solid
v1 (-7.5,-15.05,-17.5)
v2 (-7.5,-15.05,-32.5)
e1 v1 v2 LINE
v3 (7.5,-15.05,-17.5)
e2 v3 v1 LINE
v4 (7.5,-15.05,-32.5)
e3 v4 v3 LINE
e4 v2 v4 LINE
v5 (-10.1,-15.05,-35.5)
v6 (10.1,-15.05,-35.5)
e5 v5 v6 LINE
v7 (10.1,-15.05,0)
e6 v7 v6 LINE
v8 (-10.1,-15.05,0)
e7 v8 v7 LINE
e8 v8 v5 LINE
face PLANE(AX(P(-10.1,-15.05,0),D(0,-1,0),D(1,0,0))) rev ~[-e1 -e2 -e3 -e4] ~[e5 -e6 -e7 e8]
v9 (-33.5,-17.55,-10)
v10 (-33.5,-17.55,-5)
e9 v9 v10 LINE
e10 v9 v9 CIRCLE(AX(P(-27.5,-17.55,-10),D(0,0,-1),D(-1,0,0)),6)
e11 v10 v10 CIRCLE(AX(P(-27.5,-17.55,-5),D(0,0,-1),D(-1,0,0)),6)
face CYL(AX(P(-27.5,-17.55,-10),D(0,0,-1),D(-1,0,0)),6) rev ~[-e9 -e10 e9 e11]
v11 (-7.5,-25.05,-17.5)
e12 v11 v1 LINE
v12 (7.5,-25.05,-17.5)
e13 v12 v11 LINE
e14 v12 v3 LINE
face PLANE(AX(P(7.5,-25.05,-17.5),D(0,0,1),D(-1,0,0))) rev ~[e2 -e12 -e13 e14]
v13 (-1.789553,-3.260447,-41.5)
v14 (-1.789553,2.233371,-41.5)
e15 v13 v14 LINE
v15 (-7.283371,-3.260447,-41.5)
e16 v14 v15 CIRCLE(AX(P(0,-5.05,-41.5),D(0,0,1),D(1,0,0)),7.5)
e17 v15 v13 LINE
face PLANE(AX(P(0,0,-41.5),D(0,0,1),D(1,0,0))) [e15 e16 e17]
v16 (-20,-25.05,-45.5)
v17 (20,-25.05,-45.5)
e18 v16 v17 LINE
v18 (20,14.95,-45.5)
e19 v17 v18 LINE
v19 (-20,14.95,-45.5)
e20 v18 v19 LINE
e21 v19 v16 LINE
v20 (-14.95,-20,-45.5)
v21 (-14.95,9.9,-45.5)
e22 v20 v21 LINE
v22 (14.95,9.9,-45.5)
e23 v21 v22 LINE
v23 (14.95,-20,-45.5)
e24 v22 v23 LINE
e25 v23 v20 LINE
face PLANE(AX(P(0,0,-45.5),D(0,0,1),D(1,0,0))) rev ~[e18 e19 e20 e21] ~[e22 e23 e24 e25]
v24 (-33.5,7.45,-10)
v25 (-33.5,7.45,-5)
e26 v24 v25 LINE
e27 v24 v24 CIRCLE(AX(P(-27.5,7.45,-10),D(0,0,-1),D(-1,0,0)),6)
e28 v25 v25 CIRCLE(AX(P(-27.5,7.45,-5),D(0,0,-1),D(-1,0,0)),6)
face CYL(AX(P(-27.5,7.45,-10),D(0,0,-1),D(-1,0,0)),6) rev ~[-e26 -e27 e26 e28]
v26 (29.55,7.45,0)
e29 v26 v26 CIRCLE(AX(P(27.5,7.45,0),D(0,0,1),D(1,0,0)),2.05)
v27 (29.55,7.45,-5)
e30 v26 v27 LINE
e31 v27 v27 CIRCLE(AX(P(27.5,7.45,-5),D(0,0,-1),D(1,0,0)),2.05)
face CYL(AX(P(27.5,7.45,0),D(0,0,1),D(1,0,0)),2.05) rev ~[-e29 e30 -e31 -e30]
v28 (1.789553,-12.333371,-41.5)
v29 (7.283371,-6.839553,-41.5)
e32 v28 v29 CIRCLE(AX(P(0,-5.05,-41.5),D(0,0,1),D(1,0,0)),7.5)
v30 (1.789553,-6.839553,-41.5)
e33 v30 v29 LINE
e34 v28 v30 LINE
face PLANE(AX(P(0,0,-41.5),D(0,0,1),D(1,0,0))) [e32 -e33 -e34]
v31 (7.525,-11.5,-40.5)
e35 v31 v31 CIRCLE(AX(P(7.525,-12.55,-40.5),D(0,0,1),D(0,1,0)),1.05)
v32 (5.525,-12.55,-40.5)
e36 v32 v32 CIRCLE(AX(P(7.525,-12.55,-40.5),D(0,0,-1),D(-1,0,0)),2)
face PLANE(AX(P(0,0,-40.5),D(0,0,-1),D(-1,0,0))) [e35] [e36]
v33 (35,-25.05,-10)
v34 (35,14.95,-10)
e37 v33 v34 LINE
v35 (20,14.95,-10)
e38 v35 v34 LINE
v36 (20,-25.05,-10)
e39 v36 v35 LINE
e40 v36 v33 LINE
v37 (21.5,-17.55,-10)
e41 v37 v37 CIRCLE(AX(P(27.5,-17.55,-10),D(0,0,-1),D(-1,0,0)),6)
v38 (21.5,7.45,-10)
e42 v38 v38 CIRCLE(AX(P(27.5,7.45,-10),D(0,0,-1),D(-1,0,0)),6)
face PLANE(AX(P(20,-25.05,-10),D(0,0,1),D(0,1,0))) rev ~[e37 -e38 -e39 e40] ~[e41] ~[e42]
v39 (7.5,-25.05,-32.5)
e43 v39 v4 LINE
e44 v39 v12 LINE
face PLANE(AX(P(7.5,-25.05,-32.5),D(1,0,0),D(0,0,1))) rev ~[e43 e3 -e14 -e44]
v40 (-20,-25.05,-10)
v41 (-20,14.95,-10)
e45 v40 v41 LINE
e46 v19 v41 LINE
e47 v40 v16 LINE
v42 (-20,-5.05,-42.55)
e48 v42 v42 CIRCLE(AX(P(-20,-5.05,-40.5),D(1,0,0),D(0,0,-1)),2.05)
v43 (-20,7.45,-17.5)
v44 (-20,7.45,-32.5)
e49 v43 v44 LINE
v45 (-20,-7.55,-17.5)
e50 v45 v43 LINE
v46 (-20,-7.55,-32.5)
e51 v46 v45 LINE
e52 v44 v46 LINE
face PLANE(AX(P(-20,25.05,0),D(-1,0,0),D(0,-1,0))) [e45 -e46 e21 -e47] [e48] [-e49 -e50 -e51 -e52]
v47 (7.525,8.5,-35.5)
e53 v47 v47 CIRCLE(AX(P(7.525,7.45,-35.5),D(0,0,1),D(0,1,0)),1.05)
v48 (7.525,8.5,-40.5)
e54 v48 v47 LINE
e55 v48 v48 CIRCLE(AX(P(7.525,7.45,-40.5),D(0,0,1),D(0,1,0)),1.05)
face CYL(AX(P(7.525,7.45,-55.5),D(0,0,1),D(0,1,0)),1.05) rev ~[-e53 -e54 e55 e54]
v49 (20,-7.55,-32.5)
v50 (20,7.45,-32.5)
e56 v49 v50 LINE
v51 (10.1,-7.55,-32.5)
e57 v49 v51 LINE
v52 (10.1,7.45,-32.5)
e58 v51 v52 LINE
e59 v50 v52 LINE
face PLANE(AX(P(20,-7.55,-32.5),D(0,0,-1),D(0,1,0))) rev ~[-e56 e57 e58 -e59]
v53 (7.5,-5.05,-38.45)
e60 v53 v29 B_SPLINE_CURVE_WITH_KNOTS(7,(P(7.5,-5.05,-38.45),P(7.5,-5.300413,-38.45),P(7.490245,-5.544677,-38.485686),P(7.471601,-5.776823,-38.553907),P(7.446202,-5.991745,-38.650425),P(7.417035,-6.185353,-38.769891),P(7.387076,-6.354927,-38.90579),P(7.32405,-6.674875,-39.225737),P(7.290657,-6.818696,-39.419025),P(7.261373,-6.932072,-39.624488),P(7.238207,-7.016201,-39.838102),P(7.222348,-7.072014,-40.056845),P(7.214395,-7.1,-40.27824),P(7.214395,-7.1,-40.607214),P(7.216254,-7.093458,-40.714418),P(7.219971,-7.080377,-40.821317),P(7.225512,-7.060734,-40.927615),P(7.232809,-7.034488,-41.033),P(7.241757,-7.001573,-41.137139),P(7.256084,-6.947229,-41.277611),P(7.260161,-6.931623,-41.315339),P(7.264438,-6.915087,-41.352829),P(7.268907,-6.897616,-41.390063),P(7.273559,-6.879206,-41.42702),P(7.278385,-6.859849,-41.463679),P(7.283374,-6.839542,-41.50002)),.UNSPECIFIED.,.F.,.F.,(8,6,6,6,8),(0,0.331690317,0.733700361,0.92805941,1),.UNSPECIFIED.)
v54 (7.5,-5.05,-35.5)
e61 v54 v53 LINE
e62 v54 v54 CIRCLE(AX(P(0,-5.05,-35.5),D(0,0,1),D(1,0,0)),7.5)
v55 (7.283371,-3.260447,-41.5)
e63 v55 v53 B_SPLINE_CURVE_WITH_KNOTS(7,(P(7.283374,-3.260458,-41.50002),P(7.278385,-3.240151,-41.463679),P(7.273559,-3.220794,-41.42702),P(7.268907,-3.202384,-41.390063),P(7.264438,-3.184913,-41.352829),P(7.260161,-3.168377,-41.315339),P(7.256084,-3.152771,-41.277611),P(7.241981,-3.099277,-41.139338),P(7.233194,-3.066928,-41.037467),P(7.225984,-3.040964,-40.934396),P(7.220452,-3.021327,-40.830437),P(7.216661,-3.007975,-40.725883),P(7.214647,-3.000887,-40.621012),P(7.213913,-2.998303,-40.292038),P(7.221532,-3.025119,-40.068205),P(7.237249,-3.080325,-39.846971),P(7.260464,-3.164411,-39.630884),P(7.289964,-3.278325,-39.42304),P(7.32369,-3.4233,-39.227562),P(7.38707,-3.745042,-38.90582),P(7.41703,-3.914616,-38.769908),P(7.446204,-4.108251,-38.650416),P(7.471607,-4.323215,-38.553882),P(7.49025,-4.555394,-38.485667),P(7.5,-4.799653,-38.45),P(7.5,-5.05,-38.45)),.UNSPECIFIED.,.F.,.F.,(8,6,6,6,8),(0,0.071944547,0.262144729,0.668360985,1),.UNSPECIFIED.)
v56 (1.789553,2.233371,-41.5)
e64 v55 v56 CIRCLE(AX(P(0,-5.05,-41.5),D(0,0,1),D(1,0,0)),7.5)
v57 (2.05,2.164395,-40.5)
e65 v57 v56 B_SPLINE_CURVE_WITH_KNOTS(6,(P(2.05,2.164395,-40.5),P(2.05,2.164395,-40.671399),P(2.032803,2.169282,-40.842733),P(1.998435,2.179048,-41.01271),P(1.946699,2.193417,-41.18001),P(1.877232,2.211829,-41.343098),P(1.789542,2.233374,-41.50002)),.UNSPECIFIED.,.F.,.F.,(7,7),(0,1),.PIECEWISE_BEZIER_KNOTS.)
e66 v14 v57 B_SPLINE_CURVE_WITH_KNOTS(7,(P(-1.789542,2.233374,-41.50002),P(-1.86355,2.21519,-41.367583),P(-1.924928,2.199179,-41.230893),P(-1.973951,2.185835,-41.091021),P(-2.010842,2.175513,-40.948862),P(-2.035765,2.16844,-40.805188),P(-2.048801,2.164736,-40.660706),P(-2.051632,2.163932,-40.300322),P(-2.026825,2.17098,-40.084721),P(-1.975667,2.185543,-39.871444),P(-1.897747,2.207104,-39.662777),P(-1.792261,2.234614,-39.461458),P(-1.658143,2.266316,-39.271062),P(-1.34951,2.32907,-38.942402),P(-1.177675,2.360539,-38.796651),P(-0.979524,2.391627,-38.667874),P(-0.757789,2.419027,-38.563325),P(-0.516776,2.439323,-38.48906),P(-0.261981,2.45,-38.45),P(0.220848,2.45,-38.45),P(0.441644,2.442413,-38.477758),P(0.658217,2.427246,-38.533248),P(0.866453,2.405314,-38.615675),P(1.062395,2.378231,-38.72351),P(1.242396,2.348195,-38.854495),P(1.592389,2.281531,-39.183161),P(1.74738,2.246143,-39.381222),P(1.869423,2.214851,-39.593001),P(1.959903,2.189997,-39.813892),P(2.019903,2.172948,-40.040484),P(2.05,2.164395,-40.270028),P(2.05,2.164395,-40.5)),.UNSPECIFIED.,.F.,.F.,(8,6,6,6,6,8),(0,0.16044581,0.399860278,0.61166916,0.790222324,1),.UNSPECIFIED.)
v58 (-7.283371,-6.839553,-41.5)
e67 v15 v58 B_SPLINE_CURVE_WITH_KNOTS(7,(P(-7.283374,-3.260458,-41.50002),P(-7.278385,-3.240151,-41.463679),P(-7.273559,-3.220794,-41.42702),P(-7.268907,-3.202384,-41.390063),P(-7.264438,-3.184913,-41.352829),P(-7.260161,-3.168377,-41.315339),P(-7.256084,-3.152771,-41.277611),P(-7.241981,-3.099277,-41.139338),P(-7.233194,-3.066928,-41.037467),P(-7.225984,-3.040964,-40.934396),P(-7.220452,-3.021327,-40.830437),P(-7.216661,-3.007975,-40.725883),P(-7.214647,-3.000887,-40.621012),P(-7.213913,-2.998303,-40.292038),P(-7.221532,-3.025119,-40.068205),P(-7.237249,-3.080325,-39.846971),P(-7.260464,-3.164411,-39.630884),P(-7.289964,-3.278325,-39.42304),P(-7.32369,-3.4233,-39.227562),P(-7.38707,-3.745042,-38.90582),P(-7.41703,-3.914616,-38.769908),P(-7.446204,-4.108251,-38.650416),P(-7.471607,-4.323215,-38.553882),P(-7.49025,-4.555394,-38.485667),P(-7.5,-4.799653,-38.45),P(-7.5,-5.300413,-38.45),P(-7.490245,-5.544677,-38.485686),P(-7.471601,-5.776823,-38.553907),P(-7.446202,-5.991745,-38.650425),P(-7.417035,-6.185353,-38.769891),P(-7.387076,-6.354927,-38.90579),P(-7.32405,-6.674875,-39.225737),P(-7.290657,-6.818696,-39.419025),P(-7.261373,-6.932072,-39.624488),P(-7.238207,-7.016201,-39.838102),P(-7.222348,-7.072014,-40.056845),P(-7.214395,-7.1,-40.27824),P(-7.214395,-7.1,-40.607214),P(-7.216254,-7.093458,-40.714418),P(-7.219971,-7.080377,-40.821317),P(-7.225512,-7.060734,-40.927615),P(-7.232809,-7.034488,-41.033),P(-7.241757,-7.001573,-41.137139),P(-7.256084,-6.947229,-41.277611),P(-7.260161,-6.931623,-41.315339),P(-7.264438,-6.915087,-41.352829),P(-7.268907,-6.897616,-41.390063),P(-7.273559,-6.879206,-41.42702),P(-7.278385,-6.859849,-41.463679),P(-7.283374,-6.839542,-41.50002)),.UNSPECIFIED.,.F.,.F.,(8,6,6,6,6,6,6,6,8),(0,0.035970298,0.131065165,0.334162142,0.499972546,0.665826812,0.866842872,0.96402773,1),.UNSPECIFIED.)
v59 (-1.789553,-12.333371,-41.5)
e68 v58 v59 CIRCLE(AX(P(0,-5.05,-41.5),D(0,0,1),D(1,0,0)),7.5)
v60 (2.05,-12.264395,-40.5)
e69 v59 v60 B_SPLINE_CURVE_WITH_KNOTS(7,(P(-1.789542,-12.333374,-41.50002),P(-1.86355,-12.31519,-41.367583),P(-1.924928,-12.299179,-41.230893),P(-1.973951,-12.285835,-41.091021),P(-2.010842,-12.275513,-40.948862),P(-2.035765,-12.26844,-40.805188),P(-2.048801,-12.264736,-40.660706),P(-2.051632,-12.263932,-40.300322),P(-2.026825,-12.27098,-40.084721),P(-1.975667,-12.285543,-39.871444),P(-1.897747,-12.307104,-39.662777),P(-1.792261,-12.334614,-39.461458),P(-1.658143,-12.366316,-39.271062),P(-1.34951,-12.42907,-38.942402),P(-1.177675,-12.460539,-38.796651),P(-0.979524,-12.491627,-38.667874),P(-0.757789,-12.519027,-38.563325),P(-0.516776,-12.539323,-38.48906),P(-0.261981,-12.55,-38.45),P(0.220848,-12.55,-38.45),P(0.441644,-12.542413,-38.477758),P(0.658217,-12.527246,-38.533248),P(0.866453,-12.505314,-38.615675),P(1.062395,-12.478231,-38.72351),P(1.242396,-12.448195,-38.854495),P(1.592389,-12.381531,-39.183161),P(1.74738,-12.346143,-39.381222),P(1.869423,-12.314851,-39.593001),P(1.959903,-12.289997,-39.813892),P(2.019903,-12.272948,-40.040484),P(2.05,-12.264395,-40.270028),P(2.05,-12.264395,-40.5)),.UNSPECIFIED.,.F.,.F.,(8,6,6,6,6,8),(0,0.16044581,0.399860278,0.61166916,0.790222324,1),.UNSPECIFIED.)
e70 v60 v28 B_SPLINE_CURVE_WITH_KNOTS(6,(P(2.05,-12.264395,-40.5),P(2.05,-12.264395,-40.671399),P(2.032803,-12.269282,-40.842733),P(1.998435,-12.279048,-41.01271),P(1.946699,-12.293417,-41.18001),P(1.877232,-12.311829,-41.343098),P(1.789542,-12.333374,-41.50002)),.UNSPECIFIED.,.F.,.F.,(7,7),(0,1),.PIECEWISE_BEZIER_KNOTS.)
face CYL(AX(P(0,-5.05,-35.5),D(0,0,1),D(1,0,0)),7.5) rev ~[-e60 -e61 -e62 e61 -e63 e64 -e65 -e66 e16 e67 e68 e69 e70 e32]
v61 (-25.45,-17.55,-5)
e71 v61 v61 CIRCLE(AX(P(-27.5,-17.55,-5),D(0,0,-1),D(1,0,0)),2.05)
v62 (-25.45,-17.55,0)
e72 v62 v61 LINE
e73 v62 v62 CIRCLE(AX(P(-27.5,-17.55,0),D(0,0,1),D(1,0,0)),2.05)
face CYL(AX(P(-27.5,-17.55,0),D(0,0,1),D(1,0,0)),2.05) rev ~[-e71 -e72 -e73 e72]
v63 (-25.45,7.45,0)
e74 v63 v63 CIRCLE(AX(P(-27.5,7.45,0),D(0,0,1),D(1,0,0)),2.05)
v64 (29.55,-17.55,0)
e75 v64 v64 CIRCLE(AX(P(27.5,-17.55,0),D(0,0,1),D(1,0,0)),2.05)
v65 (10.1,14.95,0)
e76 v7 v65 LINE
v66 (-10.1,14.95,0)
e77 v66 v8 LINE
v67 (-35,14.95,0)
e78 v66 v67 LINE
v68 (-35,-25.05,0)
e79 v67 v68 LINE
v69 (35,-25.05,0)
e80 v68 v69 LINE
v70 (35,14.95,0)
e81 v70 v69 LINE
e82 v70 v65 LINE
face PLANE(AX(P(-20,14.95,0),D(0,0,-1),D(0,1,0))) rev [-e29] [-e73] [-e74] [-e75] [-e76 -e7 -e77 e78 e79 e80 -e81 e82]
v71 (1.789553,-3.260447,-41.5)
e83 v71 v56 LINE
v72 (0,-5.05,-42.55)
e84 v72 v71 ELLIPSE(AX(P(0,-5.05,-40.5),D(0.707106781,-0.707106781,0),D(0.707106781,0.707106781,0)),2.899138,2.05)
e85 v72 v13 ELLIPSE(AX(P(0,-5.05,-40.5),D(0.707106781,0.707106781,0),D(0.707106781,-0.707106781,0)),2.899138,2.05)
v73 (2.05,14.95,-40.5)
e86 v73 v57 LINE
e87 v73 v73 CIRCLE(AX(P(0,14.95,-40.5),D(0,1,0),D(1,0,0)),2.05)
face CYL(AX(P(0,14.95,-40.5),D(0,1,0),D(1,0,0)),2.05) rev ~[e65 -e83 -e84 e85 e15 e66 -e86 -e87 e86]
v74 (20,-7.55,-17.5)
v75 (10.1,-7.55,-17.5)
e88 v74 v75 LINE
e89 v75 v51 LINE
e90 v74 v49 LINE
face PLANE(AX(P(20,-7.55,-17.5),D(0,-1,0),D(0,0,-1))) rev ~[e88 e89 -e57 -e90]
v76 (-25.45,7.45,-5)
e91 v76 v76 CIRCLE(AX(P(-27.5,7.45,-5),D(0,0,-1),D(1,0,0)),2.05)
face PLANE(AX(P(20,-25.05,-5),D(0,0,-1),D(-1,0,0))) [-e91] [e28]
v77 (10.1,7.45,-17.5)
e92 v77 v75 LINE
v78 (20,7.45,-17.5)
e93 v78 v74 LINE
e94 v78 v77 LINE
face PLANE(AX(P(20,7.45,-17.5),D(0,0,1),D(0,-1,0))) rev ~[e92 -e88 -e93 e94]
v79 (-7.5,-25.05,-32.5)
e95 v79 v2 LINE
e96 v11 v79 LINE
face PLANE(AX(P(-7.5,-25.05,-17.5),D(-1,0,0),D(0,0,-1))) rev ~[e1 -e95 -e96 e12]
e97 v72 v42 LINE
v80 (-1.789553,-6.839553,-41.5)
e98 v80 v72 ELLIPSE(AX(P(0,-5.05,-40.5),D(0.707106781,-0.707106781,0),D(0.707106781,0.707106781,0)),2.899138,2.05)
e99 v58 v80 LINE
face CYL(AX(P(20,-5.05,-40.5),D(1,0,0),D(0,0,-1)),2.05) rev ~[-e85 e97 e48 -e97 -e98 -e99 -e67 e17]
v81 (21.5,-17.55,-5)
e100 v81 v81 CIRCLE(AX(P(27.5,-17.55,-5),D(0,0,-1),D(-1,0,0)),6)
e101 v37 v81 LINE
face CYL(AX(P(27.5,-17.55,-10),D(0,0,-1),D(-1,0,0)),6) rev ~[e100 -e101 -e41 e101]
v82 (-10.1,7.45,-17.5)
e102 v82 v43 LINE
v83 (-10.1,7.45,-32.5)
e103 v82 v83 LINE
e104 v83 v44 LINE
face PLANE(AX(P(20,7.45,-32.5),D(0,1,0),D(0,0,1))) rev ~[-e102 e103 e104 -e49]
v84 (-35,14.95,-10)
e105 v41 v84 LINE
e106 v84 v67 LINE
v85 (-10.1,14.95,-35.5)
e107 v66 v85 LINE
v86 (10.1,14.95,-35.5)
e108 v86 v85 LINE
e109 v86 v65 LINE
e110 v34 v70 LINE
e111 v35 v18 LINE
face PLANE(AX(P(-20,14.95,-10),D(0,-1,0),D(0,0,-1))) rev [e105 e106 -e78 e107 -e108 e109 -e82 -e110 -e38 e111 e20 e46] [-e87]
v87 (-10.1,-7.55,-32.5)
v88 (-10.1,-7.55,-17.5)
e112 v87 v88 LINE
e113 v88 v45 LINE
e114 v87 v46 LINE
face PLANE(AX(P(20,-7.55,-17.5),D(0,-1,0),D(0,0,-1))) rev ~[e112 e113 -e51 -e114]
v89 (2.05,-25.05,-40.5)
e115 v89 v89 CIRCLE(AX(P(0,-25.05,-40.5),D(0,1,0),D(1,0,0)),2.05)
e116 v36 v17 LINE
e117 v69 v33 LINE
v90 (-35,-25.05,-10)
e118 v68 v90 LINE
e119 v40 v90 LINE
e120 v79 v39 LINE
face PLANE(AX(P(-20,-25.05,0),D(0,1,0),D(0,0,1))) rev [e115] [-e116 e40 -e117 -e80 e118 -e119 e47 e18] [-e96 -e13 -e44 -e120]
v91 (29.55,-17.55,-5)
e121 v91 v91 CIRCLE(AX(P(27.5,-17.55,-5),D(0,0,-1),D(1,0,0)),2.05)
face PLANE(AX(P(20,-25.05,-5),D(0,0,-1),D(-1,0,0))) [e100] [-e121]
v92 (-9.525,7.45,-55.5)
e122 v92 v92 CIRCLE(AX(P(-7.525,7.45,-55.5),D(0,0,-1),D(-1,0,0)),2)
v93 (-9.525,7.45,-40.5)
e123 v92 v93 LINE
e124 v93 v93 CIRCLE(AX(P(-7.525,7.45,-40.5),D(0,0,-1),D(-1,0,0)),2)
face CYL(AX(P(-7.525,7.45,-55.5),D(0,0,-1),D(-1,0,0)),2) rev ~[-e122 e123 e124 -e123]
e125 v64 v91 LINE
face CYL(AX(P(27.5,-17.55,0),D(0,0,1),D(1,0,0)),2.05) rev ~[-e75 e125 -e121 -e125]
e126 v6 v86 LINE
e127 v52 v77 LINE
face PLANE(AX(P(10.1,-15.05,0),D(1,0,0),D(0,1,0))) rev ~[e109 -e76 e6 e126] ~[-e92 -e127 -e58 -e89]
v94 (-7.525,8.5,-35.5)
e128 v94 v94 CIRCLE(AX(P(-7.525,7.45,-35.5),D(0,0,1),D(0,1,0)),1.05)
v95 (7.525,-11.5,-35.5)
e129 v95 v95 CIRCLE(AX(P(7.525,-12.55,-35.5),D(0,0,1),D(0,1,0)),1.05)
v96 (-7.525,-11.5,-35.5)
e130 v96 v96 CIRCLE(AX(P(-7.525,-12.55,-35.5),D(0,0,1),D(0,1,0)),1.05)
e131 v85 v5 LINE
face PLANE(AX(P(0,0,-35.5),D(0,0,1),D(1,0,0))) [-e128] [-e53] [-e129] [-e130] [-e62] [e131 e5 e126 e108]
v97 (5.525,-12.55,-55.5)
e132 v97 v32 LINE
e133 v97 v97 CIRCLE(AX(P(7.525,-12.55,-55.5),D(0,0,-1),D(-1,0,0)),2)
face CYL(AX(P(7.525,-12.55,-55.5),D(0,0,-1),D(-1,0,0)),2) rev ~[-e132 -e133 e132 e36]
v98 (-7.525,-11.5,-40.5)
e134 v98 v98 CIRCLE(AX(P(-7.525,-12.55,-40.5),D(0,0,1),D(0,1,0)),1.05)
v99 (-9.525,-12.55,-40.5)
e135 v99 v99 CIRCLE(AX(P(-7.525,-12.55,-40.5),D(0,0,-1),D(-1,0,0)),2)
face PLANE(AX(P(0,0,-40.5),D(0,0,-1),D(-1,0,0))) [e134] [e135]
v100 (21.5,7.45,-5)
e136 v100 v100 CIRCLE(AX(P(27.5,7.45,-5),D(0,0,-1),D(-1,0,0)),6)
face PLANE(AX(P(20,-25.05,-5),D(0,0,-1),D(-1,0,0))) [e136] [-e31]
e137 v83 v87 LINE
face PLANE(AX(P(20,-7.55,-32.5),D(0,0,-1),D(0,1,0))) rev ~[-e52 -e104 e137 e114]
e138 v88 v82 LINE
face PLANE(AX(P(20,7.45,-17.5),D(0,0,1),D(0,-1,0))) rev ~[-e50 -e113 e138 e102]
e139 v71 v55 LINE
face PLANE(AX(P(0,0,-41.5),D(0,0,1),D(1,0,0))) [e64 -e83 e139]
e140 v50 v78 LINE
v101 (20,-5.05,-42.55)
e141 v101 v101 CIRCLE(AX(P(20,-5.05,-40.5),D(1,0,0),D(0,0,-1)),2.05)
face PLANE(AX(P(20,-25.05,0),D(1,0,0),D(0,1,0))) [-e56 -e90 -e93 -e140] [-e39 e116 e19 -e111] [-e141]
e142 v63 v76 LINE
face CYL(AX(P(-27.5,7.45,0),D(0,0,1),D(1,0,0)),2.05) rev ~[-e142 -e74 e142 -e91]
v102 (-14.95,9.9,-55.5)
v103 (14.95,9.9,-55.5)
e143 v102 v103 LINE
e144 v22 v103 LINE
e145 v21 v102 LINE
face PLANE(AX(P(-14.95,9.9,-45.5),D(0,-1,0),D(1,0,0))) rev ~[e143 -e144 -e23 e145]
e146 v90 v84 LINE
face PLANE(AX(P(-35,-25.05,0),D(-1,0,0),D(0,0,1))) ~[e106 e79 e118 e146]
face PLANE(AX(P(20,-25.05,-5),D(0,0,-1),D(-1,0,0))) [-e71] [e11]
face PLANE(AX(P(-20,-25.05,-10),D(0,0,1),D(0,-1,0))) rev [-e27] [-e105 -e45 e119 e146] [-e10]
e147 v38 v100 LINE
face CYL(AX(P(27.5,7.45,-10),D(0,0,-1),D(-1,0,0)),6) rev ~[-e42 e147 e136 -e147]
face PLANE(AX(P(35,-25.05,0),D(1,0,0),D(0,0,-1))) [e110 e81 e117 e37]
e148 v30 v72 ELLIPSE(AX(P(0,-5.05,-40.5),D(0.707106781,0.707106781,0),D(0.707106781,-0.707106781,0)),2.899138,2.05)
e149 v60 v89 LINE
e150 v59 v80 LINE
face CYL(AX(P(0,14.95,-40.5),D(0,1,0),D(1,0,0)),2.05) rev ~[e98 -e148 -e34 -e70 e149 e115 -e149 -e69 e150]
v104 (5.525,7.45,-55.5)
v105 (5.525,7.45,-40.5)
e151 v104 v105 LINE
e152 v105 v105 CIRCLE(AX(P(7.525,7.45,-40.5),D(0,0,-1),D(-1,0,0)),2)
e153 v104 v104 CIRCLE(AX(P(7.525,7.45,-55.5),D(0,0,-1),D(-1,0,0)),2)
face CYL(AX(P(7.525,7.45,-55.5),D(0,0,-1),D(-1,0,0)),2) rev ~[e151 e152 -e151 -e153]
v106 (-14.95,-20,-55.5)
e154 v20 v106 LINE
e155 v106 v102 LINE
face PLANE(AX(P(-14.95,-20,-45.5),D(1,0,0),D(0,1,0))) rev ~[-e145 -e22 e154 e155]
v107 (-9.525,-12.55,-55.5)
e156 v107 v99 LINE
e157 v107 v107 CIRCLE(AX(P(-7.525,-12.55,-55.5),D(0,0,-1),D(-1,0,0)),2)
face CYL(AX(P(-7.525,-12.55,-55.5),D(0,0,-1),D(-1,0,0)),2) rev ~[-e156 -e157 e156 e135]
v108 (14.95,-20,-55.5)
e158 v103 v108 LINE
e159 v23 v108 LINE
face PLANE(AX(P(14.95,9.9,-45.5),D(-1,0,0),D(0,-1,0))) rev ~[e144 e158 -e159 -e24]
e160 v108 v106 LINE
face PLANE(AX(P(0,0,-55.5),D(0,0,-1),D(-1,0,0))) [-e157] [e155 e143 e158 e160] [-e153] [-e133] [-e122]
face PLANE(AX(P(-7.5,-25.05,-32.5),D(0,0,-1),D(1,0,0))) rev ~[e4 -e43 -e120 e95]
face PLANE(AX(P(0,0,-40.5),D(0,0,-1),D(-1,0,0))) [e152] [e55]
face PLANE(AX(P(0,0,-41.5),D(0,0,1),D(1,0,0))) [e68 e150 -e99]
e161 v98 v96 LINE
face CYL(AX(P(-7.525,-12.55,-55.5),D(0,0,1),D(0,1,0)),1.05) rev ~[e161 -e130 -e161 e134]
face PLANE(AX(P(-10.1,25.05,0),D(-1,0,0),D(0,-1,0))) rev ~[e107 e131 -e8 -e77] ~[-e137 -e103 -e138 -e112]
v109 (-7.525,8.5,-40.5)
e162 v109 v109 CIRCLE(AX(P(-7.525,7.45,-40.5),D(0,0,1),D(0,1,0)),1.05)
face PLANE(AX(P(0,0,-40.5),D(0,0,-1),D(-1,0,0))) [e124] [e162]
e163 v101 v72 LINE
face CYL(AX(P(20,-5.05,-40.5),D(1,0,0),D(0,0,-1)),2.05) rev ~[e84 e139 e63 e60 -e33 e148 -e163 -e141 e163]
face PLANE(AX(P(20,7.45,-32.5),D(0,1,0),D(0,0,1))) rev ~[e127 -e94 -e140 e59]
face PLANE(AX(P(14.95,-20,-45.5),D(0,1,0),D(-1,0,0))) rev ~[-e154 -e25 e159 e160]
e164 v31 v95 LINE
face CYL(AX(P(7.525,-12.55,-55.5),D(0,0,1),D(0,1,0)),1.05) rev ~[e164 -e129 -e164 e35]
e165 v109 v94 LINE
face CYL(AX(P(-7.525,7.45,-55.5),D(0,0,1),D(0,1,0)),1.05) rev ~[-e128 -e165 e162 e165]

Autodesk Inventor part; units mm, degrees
ref_plane "YZ Plane" through (0, 0, 0) normal (1, 0, 0) x (0, 1, 0)
ref_plane "XZ Plane" through (0, 0, 0) normal (0, 1, 0) x (-1, 0, 0)
ref_plane "XY Plane" through (0, 0, 0) normal (0, 0, 1) x (1, 0, 0)
sketch "Sketch1" plane through (0, 0, 0) normal (0, 0, 1) x (1, 0, 0)
  line L0 (-20, -25.05) -> (20, -25.05)
  line L1 (20, -25.05) -> (20, 25.05)
  line L2 (20, 25.05) -> (-20, 25.05)
  line L3 (-20, 25.05) -> (-20, -25.05)
  line L4 (-20, -25.05) -> (20, 25.05) construction
  line L5 (20, -25.05) -> (-20, 25.05) construction
  point P0 (0, 0)
  dimension "d0" = 40
  dimension "d1" = 50.1
extrude "Extrusion1" add sketch "Sketch1" against normal blind 45.5
sketch "Sketch2" plane through (0, 0, 0) normal (0, 0, 1) x (1, 0, 0)
  line L0 (-10.1, -15.05) -> (10.1, -15.05)
  line L1 (10.1, -15.05) -> (10.1, 25.05)
  line L2 (10.1, 25.05) -> (-10.1, 25.05)
  line L3 (-10.1, 25.05) -> (-10.1, -15.05)
  line L4 (-10.1, -15.05) -> (10.1, 25.05) construction
  line L5 (10.1, -15.05) -> (-10.1, 25.05) construction
  line L6 (20, 25.05) -> (-20, 25.05) projected
  point P0 (0, 0)
  point P1 (0, 5)
  dimension "d4" = 20.2
  dimension "d5" = 40.1
extrude "Extrusion2" cut sketch "Sketch2" against normal blind 35.5
sketch "Sketch3" plane through (0, 0, -35.5) normal (0, 0, 1) x (1, 0, 0)
  circle A0 centre (0, -5.05) radius 7.5
  line L0 (10.1, -15.05) -> (-10.1, -15.05) projected
  point P0 (0, 0)
  dimension "d8" = 15
  dimension "d9" = 10
extrude "Extrusion3" cut sketch "Sketch3" against normal blind 6
sketch "Sketch4" plane through (0, 0, -45.5) normal (0, 0, -1) x (-1, 0, 0)
  line L0 (-14.95, -20) -> (14.95, -20)
  line L1 (14.95, -20) -> (14.95, 9.9)
  line L2 (14.95, 9.9) -> (-14.95, 9.9)
  line L3 (-14.95, 9.9) -> (-14.95, -20)
  line L4 (-14.95, -20) -> (14.95, 9.9) construction
  line L5 (14.95, -20) -> (-14.95, 9.9) construction
  line L6 (-20, -25.05) -> (20, -25.05) projected
  point P0 (0, 0)
  point P1 (0, -5.05)
  dimension "d12" = 29.9
  dimension "d13" = 29.9
  dimension "d14" = 20
extrude "Extrusion4" add sketch "Sketch4" along normal blind 10
sketch "Sketch5" plane through (20, -25.05, 0) normal (1, 0, 0) x (0, 0, -1)
  line L0 (17.5, 17.5) -> (32.5, 17.5)
  line L1 (32.5, 17.5) -> (32.5, 32.5)
  line L2 (32.5, 32.5) -> (17.5, 32.5)
  line L3 (17.5, 32.5) -> (17.5, 17.5)
  line L4 (17.5, 17.5) -> (32.5, 32.5) construction
  line L5 (32.5, 17.5) -> (17.5, 32.5) construction
  line L6 (45.5, 50.1) -> (45.5, 0) projected
  line L7 (0, 0) -> (45.5, 0) projected
  point P0 (0, 25.05)
  point P1 (25, 25)
  dimension "d17" = 15
  dimension "d18" = 15
  dimension "d19" = 13
  dimension "d20" = 17.5
extrude "Extrusion5" cut sketch "Sketch5" against normal through all
sketch "Sketch6" plane through (-20, -25.05, 0) normal (0, -1, 0) x (1, 0, 0)
  line L0 (27.5, -17.5) -> (12.5, -17.5)
  line L1 (12.5, -17.5) -> (12.5, -32.5)
  line L2 (12.5, -32.5) -> (27.5, -32.5)
  line L3 (27.5, -32.5) -> (27.5, -17.5)
  line L4 (27.5, -17.5) -> (12.5, -32.5) construction
  line L5 (12.5, -17.5) -> (27.5, -32.5) construction
  line L6 (40, -45.5) -> (0, -45.5) projected
  point P0 (20, 0)
  point P1 (20, -25)
  dimension "d23" = 15
  dimension "d24" = 15
  dimension "d25" = 13
extrude "Extrusion6" cut sketch "Sketch6" against normal through all
sketch "Sketch7" plane through (-20, 25.05, -45.5) normal (0, 1, 0) x (1, 0, 0)
  line L0 (0, -91) -> (40, -91)
  line L1 (40, -91) -> (40, 0)
  line L2 (40, 0) -> (0, 0)
  line L3 (0, 0) -> (0, -91)
  line L4 (0, -91) -> (40, 0) construction
  line L5 (40, -91) -> (0, 0) construction
  line L6 (0, 0) -> (40, 0) projected
  line L7 (40, -45.5) -> (40, 0) projected
  point P0 (20, -45.5)
extrude "Extrusion7" cut sketch "Sketch7" against normal blind 10.1
sketch "Sketch8" plane through (20, -25.05, 0) normal (1, 0, 0) x (0, 0, -1)
  line L0 (0, 0) -> (10, 0)
  line L1 (10, 0) -> (10, 40)
  line L2 (10, 40) -> (0, 40)
  line L3 (0, 40) -> (0, 0)
  line L4 (0, 0) -> (10, 40) construction
  line L5 (10, 0) -> (0, 40) construction
  line L6 (45.5, 40) -> (0, 40) projected
  line L7 (0, 0) -> (45.5, 0) projected
  line L8 (0, 0) -> (0, 40) projected
  point P0 (0, 25.05)
  point P1 (5, 20)
  dimension "d30" = 10
extrude "Extrusion8" add sketch "Sketch8" along normal blind 15
mirror "Mirror1" about plane through (0, 0, 0) normal (1, 0, 0) of "Extrusion8"
sketch "Sketch9" plane through (0, 0, 0) normal (0, 0, 1) x (1, 0, 0)
  circle A0 centre (27.5, 7.45) radius 2.05
  circle A1 centre (27.5, -17.55) radius 2.05
  circle A2 centre (-27.5, 7.45) radius 2.05
  circle A3 centre (-27.5, -17.55) radius 2.05
  line L0 (35, 14.95) -> (10.1, 14.95) projected
  line L1 (35, 14.95) -> (35, -25.05) projected
  line L2 (-35, -25.05) -> (35, -25.05) projected
  line L3 (-35, 14.95) -> (-35, -25.05) projected
  line L4 (-10.1, 14.95) -> (-35, 14.95) projected
  point P0 (0, 0)
  dimension "d33" = 4.1
  dimension "d34" = 4.1
  dimension "d35" = 4.1
  dimension "d36" = 4.1
  dimension "d37" = 7.5
  dimension "d38" = 7.5
  dimension "d39" = 7.5
  dimension "d40" = 7.5
  dimension "d41" = 7.5
  dimension "d42" = 7.5
  dimension "d43" = 7.5
  dimension "d44" = 7.5
extrude "Extrusion9" cut sketch "Sketch9" against normal through all
sketch "Sketch10" plane through (20, -25.05, -10) normal (0, 0, -1) x (-1, 0, 0)
  circle A0 centre (-7.5, 32.5) radius 2.05 projected
  circle A1 centre (-7.5, 7.5) radius 2.05 projected
  circle A2 centre (47.5, 32.5) radius 2.05 projected
  circle A3 centre (47.5, 7.5) radius 2.05 projected
  circle A4 centre (-7.5, 32.5) radius 6
  circle A5 centre (47.5, 32.5) radius 6
  circle A6 centre (47.5, 7.5) radius 6
  circle A7 centre (-7.5, 7.5) radius 6
  point P0 (20, 25.05)
  dimension "d47" = 12
  dimension "d48" = 12
  dimension "d49" = 12
  dimension "d50" = 12
extrude "Extrusion10" cut sketch "Sketch10" against normal blind 5
sketch "Sketch11" plane through (0, 0, -55.5) normal (0, 0, -1) x (-1, 0, 0)
  ellipse E0 centre (-7.952, -12.932) end of major axis (-8.818, -13.798) minor radius 1 (-9.07, -13.1556) -> (-8.1756, -14.05) ccw projected
  line L0 (8.1756, -14.05) -> (-8.1756, -14.05) projected
  ellipse E1 centre (7.952, -12.932) end of major axis (8.818, -13.798) minor radius 1 (8.1756, -14.05) -> (9.07, -13.1556) ccw projected
  line L1 (9.07, 23.1556) -> (9.07, -13.1556) projected
  ellipse E2 centre (7.952, 22.932) end of major axis (8.818, 23.798) minor radius 1 (9.07, 23.1556) -> (8.1756, 24.05) ccw projected
  line L2 (-8.1756, 24.05) -> (8.1756, 24.05) projected
  ellipse E3 centre (-7.952, 22.932) end of major axis (-8.818, 23.798) minor radius 1 (-8.1756, 24.05) -> (-9.07, 23.1556) ccw projected
  line L3 (-9.07, -13.1556) -> (-9.07, 23.1556) projected
  circle A0 centre (7.525, 22.55) radius 0.7835 projected
  circle A1 centre (-7.525, 22.55) radius 0.7835 projected
  circle A2 centre (7.525, 7.45) radius 0.7835 projected
  circle A3 centre (-7.525, 7.45) radius 0.7835 projected
  circle A4 centre (7.525, -12.55) radius 0.7835 projected
  circle A5 centre (-7.525, -12.55) radius 0.7835 projected
  circle A6 centre (0, -5.05) radius 6.4 projected
  point P0 (0, 0)
hole "Hole1" at (-7.525, 7.45, -55.5) at (-7.525, -12.55, -55.5) at (7.525, 7.45, -55.5) at (7.525, -12.55, -55.5) direction (0, 0, 1) diameter 2.1 end through all
sketch "Sketch12" plane through (0, 0, -55.5) normal (0, 0, -1) x (-1, 0, 0)
  circle A0 centre (7.525, 7.45) radius 1.05 projected
  circle A1 centre (7.525, -12.55) radius 1.05 projected
  circle A2 centre (-7.525, -12.55) radius 1.05 projected
  circle A3 centre (-7.525, 7.45) radius 1.05 projected
  circle A4 centre (7.525, 7.45) radius 2
  circle A5 centre (7.525, -12.55) radius 2
  circle A6 centre (-7.525, -12.55) radius 2
  circle A7 centre (-7.525, 7.45) radius 2
  point P0 (0, 0)
  dimension "d60" = 4
  dimension "d61" = 4
  dimension "d62" = 4
  dimension "d63" = 4
extrude "Extrusion11" cut sketch "Sketch12" against normal blind 15 contours A0 | A1 | A2 | A3 | A4 | A5 | A6 | A7
sketch "Sketch13" plane through (20, -25.05, -45.5) normal (1, 0, 0) x (0, 0, -1)
  circle A0 centre (-5, 20) radius 2.05
  line L0 (-35.5, 0) -> (0, 0) projected
  line L1 (0, 40) -> (0, 0) projected
  point P0 (-45.5, 25.05)
  dimension "d66" = 4.1
  dimension "d67" = 20
  dimension "d68" = 5
extrude "Extrusion12" cut sketch "Sketch13" against normal through all
sketch "Sketch14" plane through (-20, 14.95, -45.5) normal (0, 1, 0) x (1, 0, 0)
  circle A0 centre (20, -5) radius 2.05
  line L0 (0, 0) -> (40, 0) projected
  point P0 (20, -45.5)
  dimension "d71" = 4.1
  dimension "d72" = 5
extrude "Extrusion13" cut sketch "Sketch14" against normal through all
properties part number "motor_bracket3" material "ABS Plastic"
